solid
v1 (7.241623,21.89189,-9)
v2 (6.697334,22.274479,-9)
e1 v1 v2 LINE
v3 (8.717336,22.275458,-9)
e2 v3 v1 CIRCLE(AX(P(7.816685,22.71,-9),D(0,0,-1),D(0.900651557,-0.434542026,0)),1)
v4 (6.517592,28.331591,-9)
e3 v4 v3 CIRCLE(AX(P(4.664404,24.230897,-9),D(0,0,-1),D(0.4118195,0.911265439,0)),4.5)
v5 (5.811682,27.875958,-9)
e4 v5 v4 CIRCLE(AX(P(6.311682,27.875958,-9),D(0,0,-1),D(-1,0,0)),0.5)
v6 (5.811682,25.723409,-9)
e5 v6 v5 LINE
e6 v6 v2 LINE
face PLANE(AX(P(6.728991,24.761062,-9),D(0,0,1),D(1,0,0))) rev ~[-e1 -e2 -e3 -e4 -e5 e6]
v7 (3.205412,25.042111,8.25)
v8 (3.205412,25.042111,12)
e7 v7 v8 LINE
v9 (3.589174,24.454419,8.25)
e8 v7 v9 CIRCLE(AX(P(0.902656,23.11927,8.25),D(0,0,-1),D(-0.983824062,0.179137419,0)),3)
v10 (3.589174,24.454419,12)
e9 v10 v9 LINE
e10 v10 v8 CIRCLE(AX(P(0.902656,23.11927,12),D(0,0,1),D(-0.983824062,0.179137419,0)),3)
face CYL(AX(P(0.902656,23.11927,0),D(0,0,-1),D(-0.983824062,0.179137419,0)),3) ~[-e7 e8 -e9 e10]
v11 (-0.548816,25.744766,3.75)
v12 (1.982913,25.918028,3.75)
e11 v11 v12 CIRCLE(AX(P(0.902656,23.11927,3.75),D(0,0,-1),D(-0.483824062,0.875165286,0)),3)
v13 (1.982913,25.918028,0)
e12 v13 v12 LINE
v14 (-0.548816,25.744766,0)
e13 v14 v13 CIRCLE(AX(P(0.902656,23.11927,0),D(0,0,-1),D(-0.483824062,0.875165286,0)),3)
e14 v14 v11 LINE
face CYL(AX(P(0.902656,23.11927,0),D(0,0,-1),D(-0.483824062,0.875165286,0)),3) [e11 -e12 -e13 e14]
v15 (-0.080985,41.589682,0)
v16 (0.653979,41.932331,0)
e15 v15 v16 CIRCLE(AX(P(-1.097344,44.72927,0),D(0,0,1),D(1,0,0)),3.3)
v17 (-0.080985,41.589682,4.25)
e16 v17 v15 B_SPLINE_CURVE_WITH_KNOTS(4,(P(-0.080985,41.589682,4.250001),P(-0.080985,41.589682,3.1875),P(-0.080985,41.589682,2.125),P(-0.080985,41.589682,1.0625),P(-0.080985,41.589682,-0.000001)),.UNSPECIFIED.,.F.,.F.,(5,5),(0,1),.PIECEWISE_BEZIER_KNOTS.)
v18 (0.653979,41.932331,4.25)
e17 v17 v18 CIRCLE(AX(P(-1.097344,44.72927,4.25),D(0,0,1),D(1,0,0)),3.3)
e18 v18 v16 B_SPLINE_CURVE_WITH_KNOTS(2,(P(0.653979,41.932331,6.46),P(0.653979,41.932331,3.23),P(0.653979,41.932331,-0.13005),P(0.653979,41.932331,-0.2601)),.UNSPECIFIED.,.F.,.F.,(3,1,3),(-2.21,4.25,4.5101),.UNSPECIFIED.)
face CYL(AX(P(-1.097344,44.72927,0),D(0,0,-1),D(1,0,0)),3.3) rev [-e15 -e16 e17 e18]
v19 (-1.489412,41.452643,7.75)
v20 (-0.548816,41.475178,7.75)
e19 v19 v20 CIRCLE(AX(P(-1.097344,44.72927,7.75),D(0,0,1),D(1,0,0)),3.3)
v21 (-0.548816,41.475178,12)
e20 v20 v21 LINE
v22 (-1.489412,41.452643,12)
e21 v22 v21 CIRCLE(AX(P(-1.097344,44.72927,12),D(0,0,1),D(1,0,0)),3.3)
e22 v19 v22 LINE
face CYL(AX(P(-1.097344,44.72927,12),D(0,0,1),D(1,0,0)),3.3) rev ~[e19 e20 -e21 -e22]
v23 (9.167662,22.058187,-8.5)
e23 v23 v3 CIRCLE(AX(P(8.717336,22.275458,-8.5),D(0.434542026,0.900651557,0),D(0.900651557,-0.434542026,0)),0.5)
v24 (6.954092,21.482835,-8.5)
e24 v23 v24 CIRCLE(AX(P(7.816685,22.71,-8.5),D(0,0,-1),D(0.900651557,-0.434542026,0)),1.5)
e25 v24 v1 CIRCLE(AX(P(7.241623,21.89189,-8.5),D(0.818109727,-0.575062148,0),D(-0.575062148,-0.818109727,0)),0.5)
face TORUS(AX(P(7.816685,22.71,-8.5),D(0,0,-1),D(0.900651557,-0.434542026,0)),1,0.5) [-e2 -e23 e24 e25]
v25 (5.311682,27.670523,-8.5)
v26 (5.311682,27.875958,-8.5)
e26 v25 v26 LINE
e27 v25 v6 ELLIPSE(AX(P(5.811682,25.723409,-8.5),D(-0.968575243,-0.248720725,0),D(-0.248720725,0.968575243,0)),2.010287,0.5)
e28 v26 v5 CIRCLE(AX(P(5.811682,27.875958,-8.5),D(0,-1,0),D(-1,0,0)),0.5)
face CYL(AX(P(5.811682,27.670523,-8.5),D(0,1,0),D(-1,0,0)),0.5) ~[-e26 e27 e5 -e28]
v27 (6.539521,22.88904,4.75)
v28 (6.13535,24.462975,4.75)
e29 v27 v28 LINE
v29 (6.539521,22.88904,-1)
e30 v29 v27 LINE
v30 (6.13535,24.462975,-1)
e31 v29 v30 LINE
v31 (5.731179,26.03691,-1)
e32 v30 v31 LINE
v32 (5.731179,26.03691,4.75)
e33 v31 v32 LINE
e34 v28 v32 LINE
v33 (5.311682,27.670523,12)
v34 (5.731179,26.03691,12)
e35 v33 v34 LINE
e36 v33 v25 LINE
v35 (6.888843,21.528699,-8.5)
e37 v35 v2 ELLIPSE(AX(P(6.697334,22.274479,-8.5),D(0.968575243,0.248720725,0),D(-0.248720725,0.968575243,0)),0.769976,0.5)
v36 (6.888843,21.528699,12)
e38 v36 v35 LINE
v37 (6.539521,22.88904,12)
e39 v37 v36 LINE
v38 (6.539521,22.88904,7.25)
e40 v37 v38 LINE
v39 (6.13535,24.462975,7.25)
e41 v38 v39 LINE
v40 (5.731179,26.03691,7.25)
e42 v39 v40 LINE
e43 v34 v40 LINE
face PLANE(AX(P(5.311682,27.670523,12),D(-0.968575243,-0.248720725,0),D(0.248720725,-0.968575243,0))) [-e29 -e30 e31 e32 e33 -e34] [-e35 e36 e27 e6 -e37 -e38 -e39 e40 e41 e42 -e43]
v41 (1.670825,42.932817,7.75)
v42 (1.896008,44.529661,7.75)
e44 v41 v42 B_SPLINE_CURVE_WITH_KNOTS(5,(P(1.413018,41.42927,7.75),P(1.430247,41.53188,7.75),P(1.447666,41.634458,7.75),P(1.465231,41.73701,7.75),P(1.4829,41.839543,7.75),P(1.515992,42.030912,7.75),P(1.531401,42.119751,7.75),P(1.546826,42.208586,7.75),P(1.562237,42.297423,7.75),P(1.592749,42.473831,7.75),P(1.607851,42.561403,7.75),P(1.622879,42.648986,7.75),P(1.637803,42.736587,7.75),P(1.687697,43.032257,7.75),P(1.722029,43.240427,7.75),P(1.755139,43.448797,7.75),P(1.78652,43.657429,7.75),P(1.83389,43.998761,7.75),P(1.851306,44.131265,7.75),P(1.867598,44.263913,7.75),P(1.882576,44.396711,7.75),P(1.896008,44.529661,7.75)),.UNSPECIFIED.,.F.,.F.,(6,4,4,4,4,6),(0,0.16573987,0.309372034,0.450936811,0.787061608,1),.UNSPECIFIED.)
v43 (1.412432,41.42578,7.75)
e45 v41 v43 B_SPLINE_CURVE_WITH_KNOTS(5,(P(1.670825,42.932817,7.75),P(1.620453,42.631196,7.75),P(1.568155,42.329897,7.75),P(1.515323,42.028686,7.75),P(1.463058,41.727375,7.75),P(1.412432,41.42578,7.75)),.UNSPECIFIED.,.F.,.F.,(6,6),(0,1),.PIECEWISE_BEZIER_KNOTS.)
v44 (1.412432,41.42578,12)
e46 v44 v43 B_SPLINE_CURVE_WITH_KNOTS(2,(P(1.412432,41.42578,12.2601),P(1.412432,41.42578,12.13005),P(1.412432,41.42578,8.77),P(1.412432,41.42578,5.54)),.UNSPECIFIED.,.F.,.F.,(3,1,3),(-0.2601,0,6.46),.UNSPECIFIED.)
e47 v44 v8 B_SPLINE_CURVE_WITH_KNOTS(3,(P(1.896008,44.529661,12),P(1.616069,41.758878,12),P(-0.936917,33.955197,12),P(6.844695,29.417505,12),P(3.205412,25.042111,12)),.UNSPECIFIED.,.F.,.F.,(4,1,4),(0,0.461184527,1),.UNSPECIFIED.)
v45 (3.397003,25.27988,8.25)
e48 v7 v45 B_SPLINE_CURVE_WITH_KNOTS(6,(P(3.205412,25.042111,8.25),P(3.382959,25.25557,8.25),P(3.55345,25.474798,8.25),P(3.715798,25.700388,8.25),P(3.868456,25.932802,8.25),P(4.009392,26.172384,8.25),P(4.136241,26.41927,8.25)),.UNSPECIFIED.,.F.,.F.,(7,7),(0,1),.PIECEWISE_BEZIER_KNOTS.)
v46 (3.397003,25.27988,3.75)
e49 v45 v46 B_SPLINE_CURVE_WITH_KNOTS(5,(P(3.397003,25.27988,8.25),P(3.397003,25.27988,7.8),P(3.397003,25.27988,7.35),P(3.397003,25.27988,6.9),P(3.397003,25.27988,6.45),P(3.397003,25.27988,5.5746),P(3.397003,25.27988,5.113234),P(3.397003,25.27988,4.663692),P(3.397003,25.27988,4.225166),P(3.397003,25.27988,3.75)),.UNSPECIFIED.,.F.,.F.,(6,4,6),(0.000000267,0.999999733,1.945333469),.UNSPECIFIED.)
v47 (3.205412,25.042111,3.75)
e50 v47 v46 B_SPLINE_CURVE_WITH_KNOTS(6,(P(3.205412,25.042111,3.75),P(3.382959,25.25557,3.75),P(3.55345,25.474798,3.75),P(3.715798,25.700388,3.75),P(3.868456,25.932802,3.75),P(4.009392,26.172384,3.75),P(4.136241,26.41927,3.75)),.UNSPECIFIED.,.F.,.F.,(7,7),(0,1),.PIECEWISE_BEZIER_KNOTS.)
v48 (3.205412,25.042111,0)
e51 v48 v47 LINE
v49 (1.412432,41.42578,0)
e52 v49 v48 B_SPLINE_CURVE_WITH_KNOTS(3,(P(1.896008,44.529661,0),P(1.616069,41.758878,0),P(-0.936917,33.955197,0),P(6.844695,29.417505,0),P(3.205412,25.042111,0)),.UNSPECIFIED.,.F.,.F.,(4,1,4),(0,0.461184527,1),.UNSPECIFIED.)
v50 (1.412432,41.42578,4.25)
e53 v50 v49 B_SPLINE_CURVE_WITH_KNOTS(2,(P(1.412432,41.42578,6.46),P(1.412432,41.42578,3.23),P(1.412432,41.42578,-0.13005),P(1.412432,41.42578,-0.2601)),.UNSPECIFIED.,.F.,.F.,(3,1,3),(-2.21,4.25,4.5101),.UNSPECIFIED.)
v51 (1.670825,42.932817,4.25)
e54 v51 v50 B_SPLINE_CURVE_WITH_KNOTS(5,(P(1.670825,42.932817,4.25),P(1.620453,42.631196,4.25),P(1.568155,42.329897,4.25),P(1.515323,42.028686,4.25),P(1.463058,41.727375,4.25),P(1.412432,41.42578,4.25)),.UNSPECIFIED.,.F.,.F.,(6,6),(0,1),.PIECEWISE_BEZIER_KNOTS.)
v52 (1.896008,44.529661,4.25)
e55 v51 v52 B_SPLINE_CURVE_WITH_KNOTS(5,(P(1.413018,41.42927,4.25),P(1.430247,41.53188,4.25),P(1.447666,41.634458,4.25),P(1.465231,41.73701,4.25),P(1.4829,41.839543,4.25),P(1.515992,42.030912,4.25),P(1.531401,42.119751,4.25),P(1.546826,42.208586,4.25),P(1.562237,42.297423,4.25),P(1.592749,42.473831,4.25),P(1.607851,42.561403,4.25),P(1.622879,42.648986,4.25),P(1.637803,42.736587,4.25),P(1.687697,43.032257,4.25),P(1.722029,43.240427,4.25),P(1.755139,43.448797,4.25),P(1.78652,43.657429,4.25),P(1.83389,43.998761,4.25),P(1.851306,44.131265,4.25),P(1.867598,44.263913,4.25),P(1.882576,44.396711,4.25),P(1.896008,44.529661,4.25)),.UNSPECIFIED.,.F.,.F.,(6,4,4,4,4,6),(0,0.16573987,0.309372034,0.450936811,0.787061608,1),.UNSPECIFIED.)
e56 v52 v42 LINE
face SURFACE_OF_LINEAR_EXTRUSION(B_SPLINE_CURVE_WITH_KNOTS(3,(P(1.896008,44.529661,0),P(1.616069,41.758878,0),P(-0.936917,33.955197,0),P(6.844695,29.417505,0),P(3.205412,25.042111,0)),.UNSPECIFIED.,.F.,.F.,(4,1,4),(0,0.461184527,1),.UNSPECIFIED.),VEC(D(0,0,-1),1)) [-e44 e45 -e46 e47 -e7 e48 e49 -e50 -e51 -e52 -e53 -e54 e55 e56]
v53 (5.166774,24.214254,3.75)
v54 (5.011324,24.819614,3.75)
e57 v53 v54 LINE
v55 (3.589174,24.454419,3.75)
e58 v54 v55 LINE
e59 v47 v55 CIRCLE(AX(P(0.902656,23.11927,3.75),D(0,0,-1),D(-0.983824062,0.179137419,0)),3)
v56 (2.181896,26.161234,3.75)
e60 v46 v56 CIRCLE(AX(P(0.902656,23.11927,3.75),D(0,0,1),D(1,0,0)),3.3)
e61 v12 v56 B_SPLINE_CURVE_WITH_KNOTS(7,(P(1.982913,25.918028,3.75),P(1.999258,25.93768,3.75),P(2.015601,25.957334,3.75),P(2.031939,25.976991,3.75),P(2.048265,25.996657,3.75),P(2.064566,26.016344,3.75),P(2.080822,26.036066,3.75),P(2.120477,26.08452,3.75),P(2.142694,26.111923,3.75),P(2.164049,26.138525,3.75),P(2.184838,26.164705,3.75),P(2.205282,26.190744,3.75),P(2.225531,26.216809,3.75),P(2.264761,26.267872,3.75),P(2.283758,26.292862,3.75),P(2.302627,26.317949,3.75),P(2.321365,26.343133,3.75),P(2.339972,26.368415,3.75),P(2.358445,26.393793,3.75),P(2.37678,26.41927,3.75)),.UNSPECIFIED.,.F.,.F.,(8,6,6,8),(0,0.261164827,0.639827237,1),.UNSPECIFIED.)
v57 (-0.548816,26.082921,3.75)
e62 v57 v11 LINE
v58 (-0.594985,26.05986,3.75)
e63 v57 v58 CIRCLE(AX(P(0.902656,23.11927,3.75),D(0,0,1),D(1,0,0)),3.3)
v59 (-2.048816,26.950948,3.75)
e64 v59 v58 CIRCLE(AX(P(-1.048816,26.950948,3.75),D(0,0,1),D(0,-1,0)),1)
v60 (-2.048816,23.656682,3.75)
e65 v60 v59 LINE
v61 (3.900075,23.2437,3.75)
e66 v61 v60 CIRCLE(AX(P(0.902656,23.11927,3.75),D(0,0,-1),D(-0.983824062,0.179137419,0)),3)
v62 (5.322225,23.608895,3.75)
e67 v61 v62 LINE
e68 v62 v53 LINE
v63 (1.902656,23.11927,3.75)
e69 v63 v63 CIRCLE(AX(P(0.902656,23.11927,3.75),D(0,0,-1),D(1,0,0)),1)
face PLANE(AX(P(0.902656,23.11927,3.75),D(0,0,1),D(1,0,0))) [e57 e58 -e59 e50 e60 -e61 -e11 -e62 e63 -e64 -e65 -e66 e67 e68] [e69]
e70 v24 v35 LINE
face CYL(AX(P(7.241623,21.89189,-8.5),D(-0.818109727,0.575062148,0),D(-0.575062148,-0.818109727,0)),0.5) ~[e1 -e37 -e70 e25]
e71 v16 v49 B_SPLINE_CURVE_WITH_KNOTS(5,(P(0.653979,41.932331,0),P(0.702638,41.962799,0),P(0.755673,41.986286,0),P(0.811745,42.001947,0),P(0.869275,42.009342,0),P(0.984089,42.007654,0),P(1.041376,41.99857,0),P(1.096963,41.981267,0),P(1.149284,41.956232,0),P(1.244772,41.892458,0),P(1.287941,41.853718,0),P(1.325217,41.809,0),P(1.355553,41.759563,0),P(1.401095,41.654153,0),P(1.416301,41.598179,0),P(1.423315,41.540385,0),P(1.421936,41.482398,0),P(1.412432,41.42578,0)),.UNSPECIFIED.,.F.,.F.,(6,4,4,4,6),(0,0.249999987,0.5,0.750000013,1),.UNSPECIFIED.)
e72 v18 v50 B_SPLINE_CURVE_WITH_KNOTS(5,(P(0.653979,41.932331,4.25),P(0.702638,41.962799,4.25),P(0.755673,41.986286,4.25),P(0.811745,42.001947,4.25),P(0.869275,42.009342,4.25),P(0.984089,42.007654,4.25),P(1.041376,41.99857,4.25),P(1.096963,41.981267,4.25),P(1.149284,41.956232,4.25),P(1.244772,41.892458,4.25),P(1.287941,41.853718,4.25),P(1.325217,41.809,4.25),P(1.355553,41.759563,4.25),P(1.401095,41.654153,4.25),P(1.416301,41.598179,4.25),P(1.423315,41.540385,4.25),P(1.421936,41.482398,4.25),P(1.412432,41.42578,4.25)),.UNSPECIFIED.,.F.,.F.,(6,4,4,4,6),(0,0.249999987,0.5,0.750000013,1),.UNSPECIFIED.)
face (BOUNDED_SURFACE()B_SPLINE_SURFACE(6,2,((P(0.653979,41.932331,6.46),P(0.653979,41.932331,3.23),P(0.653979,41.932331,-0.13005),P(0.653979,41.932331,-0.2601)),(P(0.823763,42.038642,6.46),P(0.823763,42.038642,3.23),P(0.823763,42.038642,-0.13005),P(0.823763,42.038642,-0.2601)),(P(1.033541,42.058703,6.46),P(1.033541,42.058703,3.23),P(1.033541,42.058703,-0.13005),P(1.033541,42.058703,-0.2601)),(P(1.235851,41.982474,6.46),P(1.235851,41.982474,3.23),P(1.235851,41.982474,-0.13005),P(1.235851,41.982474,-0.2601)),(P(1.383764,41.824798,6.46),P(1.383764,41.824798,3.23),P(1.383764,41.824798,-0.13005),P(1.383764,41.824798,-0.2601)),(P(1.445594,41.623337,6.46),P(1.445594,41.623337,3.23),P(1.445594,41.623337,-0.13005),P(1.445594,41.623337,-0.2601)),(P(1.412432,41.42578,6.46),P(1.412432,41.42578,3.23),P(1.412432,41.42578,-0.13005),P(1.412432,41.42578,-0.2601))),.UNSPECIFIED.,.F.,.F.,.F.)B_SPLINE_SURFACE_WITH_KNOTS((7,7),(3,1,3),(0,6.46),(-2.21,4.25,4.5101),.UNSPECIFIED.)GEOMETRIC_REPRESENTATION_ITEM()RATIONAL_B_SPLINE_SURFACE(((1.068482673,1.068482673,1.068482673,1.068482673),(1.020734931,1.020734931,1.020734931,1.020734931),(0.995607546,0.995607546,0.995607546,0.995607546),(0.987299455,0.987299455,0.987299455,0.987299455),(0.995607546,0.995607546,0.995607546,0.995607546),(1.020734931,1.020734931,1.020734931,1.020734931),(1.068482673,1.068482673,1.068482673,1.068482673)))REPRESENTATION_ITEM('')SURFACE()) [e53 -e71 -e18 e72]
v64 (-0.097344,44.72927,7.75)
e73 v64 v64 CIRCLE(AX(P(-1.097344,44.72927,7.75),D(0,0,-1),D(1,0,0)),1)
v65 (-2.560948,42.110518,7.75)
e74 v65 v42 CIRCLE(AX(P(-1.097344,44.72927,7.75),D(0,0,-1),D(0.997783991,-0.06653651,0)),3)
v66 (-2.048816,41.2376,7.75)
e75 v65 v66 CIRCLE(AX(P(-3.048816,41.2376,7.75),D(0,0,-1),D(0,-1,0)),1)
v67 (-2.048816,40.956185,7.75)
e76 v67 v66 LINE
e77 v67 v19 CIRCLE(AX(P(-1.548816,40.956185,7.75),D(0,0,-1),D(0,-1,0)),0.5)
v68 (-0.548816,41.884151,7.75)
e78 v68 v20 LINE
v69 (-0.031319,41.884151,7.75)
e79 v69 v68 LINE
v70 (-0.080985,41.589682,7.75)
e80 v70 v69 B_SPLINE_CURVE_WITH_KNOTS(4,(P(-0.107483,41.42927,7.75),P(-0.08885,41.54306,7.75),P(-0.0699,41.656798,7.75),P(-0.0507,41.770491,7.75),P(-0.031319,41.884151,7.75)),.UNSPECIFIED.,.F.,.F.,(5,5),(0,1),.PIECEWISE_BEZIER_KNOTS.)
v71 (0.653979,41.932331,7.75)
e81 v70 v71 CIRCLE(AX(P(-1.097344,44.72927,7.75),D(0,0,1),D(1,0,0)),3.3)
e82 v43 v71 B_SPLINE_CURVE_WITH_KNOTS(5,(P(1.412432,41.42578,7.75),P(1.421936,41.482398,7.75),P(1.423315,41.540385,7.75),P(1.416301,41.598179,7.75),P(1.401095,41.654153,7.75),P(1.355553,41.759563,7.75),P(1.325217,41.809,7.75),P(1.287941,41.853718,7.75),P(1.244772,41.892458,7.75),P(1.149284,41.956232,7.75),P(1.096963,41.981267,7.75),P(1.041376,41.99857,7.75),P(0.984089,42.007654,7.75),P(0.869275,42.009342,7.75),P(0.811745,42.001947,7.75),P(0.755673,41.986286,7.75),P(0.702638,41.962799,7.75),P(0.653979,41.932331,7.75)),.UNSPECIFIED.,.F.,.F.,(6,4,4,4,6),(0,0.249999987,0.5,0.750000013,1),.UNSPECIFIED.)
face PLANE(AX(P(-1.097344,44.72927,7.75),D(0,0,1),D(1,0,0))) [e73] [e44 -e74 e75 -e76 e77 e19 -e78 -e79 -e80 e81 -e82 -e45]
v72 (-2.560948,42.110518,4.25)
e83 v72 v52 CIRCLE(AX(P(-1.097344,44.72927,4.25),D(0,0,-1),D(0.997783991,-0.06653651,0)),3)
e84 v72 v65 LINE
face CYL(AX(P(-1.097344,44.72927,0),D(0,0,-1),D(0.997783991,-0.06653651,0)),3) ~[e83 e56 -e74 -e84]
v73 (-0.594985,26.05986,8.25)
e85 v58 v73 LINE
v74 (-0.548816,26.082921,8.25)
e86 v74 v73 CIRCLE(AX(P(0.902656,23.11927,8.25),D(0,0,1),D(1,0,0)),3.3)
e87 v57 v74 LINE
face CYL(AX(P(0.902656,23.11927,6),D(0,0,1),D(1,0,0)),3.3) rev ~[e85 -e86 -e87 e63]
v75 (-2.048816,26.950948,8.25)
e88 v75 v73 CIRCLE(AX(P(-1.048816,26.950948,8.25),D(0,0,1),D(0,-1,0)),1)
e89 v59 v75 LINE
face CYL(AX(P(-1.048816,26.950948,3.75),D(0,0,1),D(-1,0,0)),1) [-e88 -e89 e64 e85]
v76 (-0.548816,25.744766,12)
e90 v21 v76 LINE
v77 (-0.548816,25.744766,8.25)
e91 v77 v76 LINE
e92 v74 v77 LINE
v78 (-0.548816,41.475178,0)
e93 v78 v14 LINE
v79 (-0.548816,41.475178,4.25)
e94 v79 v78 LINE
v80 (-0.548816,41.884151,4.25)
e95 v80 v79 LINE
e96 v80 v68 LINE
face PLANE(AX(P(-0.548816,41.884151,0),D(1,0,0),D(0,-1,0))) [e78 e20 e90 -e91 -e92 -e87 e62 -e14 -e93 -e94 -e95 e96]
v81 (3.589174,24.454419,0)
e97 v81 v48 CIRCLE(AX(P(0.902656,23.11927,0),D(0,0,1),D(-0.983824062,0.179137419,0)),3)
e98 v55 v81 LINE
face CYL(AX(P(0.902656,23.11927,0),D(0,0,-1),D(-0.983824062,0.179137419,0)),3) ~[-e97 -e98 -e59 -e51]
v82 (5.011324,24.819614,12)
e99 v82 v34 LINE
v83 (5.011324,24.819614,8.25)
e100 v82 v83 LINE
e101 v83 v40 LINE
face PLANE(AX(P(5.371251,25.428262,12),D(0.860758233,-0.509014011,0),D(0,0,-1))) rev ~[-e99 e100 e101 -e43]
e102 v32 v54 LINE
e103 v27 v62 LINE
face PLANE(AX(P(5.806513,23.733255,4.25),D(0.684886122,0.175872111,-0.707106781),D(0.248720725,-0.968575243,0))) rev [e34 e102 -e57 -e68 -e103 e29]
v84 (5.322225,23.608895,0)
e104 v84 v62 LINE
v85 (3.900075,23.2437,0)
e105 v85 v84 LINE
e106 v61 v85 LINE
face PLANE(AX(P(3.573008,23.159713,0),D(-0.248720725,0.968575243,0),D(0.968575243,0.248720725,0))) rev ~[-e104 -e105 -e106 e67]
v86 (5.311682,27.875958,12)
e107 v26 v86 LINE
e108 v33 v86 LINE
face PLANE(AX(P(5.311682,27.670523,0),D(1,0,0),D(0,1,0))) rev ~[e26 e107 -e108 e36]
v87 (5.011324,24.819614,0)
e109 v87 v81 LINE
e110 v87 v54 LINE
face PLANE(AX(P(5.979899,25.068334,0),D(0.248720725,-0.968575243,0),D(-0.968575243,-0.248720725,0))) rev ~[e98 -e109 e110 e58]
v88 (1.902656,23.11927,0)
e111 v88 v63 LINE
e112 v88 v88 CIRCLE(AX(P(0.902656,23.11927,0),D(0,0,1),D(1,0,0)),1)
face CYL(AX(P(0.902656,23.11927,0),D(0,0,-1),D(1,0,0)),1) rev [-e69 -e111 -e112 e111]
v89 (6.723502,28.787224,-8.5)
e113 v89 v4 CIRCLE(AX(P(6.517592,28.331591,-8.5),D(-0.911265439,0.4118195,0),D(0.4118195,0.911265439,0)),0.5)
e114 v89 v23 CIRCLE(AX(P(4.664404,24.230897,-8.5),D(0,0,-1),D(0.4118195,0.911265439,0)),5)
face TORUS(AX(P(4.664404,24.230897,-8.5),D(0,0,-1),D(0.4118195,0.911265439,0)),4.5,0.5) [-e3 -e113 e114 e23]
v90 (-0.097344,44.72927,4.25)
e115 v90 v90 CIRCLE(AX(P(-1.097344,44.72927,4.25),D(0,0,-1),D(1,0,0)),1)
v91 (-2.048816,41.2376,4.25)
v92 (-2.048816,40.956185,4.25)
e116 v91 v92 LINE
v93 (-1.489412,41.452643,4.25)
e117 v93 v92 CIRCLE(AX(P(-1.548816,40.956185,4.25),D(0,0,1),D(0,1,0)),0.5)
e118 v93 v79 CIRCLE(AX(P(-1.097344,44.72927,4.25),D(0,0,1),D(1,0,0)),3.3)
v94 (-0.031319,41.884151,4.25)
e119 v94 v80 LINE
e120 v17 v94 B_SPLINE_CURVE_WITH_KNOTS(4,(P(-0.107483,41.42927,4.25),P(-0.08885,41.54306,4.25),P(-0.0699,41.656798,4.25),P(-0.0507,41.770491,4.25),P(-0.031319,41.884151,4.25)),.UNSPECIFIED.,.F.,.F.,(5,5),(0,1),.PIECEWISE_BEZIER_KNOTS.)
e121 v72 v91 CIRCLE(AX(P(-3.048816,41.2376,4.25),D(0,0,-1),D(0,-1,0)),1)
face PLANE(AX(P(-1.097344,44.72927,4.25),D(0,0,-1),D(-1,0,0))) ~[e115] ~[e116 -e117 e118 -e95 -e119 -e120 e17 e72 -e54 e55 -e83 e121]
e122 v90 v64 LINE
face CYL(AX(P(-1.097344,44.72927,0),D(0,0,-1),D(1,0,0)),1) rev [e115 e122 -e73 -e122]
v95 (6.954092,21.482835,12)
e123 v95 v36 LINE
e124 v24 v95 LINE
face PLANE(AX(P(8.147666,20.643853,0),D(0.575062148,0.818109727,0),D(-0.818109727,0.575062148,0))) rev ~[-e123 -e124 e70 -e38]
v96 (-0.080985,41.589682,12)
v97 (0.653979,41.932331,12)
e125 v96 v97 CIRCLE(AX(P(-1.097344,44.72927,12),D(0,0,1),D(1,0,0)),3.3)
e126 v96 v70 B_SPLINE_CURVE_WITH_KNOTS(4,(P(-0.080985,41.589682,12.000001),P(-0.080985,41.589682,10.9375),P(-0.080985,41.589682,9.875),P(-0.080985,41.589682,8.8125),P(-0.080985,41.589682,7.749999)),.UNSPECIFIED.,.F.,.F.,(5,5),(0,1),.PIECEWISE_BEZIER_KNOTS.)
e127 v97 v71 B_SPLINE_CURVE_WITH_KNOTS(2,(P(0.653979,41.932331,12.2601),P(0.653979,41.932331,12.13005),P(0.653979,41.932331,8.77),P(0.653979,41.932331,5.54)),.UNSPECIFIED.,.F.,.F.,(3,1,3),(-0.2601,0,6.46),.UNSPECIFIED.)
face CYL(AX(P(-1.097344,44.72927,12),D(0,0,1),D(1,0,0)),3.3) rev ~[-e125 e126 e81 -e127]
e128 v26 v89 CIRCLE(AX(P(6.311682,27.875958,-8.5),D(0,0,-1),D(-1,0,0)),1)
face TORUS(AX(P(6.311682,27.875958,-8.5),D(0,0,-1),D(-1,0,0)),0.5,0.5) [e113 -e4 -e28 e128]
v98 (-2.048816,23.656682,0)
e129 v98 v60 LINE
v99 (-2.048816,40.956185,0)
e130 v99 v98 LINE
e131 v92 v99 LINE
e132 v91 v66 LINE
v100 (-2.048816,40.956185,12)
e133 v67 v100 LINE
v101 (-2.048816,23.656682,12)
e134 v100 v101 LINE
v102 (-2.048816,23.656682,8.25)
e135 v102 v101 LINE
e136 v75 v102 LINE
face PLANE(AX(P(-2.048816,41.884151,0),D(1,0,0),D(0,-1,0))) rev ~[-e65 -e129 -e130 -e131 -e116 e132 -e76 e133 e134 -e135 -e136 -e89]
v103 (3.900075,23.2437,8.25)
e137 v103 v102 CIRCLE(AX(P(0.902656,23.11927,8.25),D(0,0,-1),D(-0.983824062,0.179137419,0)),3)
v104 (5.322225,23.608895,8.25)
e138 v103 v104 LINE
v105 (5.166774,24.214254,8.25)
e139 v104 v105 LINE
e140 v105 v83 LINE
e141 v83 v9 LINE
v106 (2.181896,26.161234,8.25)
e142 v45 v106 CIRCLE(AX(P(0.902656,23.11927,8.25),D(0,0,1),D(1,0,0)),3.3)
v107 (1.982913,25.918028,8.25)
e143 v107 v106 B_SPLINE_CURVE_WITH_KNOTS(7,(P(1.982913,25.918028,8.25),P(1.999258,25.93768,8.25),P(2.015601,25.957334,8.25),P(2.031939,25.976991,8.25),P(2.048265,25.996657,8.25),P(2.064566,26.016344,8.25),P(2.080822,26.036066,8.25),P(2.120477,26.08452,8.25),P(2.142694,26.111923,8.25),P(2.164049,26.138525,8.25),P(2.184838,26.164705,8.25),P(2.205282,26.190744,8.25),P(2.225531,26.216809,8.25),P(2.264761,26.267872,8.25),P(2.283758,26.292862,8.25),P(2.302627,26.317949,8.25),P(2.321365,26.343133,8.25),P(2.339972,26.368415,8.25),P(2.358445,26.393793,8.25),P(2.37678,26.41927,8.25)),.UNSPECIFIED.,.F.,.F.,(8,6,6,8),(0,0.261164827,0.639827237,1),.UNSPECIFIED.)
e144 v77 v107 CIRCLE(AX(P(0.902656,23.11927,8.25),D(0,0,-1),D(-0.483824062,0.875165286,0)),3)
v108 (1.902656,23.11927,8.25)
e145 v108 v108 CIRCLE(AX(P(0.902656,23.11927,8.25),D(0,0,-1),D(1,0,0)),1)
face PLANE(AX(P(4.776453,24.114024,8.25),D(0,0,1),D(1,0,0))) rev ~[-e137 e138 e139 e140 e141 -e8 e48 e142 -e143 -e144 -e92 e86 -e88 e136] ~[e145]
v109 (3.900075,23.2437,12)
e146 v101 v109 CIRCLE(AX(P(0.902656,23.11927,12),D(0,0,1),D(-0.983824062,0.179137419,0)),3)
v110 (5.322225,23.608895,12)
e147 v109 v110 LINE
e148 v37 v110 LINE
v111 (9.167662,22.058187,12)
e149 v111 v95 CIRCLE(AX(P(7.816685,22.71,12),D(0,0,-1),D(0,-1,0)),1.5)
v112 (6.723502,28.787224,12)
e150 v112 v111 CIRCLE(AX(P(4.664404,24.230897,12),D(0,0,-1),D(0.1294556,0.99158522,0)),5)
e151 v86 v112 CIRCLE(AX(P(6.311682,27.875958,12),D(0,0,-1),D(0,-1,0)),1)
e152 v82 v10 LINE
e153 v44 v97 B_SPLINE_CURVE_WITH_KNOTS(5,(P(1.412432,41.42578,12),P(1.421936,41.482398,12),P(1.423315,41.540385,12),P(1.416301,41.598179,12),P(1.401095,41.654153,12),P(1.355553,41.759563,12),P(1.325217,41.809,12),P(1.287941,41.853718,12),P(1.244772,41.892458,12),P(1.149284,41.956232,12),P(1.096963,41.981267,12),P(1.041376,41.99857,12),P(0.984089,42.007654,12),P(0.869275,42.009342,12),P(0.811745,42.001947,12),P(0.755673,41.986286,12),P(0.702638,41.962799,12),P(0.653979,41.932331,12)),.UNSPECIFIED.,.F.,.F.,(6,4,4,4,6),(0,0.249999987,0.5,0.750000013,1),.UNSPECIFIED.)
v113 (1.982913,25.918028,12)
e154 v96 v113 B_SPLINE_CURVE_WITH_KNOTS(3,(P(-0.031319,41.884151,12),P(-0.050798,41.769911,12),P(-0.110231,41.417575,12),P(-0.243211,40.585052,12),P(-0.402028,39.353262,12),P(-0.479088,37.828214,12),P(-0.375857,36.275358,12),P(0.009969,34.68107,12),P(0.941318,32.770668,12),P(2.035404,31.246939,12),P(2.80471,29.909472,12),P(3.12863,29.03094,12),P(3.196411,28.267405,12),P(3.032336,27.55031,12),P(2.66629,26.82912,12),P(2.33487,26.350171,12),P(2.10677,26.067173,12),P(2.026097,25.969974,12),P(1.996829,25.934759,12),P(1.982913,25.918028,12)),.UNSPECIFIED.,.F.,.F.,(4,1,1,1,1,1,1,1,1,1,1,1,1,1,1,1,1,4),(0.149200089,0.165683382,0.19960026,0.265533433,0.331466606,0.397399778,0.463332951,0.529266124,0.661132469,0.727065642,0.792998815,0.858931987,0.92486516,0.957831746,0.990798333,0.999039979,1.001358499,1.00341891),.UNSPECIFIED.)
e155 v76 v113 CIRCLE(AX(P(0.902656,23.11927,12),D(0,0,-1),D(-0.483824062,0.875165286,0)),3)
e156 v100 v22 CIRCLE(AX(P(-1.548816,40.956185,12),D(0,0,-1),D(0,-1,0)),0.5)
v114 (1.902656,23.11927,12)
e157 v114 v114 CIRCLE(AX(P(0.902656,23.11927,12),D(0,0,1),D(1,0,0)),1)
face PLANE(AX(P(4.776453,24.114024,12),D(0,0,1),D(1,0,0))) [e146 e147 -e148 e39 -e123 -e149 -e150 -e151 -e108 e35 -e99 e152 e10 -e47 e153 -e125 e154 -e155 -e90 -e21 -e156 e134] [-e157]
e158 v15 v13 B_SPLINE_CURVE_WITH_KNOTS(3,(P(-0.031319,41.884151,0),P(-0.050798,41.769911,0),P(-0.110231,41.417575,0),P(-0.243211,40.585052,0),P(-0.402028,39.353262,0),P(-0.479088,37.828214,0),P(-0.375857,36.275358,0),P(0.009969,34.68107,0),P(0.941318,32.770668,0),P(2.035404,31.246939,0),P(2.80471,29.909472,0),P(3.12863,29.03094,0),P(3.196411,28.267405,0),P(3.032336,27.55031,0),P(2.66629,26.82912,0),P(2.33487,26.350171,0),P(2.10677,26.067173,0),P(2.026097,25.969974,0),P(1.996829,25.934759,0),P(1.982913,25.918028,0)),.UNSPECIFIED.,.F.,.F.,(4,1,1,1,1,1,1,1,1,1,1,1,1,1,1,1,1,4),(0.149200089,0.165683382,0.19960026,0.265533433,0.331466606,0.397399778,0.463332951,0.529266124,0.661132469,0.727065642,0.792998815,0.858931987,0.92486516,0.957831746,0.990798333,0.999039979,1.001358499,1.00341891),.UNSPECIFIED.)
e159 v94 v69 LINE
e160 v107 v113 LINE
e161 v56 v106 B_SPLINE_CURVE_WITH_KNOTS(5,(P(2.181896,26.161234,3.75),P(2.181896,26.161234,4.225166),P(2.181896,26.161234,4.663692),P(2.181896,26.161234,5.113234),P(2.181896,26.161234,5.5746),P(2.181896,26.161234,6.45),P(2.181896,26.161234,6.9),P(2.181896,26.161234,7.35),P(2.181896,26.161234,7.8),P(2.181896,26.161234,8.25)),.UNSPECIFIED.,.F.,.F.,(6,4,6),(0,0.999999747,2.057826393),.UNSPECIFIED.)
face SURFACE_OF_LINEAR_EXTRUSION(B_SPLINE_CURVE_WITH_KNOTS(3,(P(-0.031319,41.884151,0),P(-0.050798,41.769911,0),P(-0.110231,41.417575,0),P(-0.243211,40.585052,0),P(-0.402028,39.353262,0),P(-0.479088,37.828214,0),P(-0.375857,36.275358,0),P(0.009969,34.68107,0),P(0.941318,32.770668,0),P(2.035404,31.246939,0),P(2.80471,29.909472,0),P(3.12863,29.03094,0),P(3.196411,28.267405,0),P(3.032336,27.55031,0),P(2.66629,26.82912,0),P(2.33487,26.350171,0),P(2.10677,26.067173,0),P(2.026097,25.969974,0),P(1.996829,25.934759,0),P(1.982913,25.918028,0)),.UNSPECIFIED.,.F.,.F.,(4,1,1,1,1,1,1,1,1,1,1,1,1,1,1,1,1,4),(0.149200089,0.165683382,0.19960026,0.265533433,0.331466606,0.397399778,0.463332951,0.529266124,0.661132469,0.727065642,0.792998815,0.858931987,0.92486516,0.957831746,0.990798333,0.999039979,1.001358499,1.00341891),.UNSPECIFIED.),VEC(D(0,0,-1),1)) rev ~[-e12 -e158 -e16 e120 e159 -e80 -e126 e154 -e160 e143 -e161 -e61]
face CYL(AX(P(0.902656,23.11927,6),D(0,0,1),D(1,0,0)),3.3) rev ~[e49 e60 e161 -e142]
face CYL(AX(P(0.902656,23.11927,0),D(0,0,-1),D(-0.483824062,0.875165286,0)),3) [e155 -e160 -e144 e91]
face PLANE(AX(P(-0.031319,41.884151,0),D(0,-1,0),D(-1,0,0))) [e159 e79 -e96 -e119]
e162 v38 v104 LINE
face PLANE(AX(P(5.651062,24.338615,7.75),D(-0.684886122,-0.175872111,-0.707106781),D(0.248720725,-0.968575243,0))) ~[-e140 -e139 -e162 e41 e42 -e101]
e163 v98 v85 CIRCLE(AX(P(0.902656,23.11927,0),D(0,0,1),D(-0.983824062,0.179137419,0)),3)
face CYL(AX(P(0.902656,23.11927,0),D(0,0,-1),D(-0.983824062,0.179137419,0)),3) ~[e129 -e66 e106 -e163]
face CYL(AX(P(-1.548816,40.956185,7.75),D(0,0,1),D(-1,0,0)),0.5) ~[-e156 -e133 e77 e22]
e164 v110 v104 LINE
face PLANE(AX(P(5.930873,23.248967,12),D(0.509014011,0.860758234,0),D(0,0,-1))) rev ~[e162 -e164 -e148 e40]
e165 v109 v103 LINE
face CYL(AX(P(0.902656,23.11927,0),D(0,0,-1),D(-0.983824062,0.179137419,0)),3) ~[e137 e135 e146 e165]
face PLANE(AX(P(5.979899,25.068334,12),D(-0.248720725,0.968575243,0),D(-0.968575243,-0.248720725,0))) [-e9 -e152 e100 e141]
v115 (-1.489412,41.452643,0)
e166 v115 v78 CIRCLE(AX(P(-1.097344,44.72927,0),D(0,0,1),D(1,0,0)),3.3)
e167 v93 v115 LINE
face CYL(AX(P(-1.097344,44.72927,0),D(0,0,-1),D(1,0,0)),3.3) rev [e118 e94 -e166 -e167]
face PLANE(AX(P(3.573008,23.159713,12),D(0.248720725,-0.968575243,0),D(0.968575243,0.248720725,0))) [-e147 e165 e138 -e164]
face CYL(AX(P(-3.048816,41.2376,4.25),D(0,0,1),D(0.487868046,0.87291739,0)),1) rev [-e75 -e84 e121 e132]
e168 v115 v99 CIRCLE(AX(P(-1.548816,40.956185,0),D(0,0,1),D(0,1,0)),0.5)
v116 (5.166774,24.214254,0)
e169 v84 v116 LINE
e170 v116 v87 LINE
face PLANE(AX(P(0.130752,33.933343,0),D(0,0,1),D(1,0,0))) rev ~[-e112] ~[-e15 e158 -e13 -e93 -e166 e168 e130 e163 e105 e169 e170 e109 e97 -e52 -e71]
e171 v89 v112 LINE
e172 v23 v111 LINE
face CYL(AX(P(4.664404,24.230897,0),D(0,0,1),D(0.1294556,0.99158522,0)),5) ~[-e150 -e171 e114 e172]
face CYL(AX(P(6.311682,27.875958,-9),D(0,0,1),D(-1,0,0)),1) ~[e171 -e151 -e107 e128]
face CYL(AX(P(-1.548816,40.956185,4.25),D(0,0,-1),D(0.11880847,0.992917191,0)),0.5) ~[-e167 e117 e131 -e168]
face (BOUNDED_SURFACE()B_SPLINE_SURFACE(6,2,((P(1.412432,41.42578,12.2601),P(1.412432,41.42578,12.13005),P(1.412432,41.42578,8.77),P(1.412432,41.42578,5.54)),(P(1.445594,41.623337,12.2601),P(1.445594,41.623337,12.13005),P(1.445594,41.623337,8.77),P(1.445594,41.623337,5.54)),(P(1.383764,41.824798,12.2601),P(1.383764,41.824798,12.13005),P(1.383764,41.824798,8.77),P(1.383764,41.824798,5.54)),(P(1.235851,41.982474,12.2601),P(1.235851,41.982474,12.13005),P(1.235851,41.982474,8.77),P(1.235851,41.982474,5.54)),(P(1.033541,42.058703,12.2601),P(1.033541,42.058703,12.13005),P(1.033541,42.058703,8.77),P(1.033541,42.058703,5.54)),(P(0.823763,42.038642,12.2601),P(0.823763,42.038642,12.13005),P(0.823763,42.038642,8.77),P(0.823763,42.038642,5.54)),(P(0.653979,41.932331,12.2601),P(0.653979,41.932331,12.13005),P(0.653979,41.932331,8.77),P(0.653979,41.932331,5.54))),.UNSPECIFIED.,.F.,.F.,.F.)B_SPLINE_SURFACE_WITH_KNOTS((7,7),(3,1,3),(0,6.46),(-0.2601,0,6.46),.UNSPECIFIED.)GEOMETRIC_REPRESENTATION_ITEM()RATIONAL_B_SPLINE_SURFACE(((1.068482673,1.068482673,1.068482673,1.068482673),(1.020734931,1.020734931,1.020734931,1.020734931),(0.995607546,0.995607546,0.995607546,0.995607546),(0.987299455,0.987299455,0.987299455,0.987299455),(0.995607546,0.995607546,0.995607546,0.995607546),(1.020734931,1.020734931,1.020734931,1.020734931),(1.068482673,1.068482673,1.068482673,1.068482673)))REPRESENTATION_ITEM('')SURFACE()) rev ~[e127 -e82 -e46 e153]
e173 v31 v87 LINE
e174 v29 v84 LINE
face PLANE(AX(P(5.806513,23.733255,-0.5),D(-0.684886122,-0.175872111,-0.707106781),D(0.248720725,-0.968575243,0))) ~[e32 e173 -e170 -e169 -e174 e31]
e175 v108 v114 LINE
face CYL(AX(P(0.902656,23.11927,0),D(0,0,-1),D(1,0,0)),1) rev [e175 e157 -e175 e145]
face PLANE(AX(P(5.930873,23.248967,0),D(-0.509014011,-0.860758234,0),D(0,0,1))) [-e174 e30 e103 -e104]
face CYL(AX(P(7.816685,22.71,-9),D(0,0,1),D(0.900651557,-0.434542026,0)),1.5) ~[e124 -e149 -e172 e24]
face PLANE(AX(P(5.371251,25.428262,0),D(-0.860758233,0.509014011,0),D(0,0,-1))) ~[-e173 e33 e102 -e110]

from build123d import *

# Parameters (mm, degrees)
SKETCH1_R                = 1
BOSS_EXTRUDE1_DEPTH      = 12
SKETCH2_R                = 3.3
CUT_EXTRUDE1_DEPTH       = 4.25
SKETCH3_R                = 3.3
CUT_EXTRUDE2_DEPTH       = 2.25
CUT_EXTRUDE2_DEPTH_BACK  = 2.25
BOSS_EXTRUDE4_DEPTH      = 12
BOSS_EXTRUDE4_DEPTH_BACK = 9
BOSS_EXTRUDE5_DEPTH      = 21
BOSS_EXTRUDE6_DEPTH      = 3.75
BOSS_EXTRUDE7_DEPTH      = 3.75
FILLET1_R                = 0.5
FILLET2_R                = 1
FILLET10_R               = 1.5
FILLET11_R               = 1
CHAMFER5_SIZE            = 1
FILLET12_R               = 1
FILLET13_R               = 0.5


with BuildPart() as part:
    # Sketch1 → Boss-Extrude1 (new body)
    with BuildSketch(Plane.XY):
        with BuildLine():
            Line((-2.048815827, 41.884151299), (-2.048815827, 23.656682303))
            ThreePointArc((-2.048815827, 23.656682303), (1.66754925, 20.218418642), (3.205412143, 25.042110601))
            add(Edge.make_bspline(
                [(1.896008332, 44.529660516), (1.616069448, 41.758878479), (-0.936917255, 33.955197005), (6.844694938, 29.417505011), (3.205412143, 25.042110601)],
                knots=[0, 0, 0, 0, 0.461184527, 1, 1, 1, 1], degree=3))
            ThreePointArc((1.896008332, 44.529660516), (-2.768270934, 47.220856283), (-2.048815827, 41.884151299))
        make_face()
        with Locations((-1.097343641, 44.729270045)):
            Circle(SKETCH1_R, mode=Mode.SUBTRACT)
        with Locations((0.902656359, 23.119270045)):
            Circle(SKETCH1_R, mode=Mode.SUBTRACT)
        with BuildLine():
            Line((-0.031319306, 41.884151299), (-0.548815827, 41.884151299))
            Line((-0.548815827, 41.884151299), (-0.548815827, 25.744765902))
            ThreePointArc((-0.548815827, 25.744765902), (0.697826573, 26.112269337), (1.982912704, 25.918028026))
            add(Edge.make_bspline(
                [(-0.031319306, 41.884151299), (-0.050798368, 41.769911378), (-0.110231132, 41.41757497), (-0.243210983, 40.585051968), (-0.402027872, 39.353261852), (-0.479087992, 37.828213551), (-0.375856847, 36.275358456), (0.009969142, 34.681069755), (0.941317901, 32.770668216), (2.035404053, 31.246938586), (2.80471042, 29.909471533), (3.128629571, 29.030940173), (3.19641087, 28.267404516), (3.032335606, 27.550309668), (2.666289508, 26.829120101), (2.334869511, 26.350170873), (2.106769915, 26.067173099), (2.026097439, 25.969974031), (1.996829195, 25.934759382), (1.982912704, 25.918028026)],
                knots=[0.149200089, 0.149200089, 0.149200089, 0.149200089, 0.165683382, 0.19960026, 0.265533433, 0.331466606, 0.397399778, 0.463332951, 0.529266124, 0.661132469, 0.727065642, 0.792998815, 0.858931987, 0.92486516, 0.957831746, 0.990798333, 0.999039979, 1.001358499, 1.00341891, 1.00341891, 1.00341891, 1.00341891], degree=3))
        make_face(mode=Mode.SUBTRACT)
    extrude(amount=BOSS_EXTRUDE1_DEPTH)

    # Sketch2 → Cut-Extrude1 (cut)
    with BuildSketch(Plane.XY.offset(12)):
        with Locations((-1.097343641, 44.729270045)):
            Circle(SKETCH2_R)
    cut_extrude1 = extrude(amount=-CUT_EXTRUDE1_DEPTH, mode=Mode.SUBTRACT)

    # Mirror1: Cut-Extrude1 across plane
    add(cut_extrude1.mirror(Plane.XY.offset(6)), mode=Mode.SUBTRACT)

    # Sketch3 → Cut-Extrude2 (cut, two sides)
    with BuildSketch(Plane.XY.offset(6)) as cut_extrude2_sk:
        with Locations((0.902656359, 23.119270045)):
            Circle(SKETCH3_R)
    extrude(amount=CUT_EXTRUDE2_DEPTH, mode=Mode.SUBTRACT)
    extrude(cut_extrude2_sk.sketch, amount=-CUT_EXTRUDE2_DEPTH_BACK, mode=Mode.SUBTRACT)



with BuildPart() as body_2:
    # Sketch6 → Boss-Extrude4 (new, two sides)
    with BuildSketch(Plane.XY) as boss_extrude4_sk:
        with BuildLine():
            Line((8.147666431, 20.643852604), (6.888843248, 21.528699147))
            ThreePointArc((6.888843248, 21.528699147), (8.054417737, 25.101419264), (5.311682387, 27.670523333))
            Line((5.311682387, 27.670523333), (5.311682387, 29.188822824))
            ThreePointArc((5.311682387, 29.188822824), (9.409872676, 25.805866797), (8.147666431, 20.643852604))
        make_face()
    extrude(amount=BOSS_EXTRUDE4_DEPTH)
    extrude(boss_extrude4_sk.sketch, amount=-BOSS_EXTRUDE4_DEPTH_BACK)

    # Sketch7 → Boss-Extrude5 (add)
    with BuildSketch(Plane.XY.offset(12)):
        with BuildLine():
            Line((5.311682387, 27.670523333), (6.888843248, 21.528699147))
            ThreePointArc((6.888843248, 21.528699147), (8.054417737, 25.101419264), (5.311682387, 27.670523333))
        make_face()
    extrude(amount=-BOSS_EXTRUDE5_DEPTH)


with BuildPart() as part_1:
    add(part.part)

    add(body_2.part)  # Boss-Extrude6 merges body 2
    # Sketch8 → Boss-Extrude6 (add)
    with BuildSketch(Plane.XY.offset(12)):
        Polygon((6.135349697, 24.462974926), (5.979899244, 25.068334452), (3.262106691, 24.370431694), (3.573007598, 23.15971264), (6.29080015, 23.857615399), align=None)
    extrude(amount=-BOSS_EXTRUDE6_DEPTH)

    # Sketch10 → Boss-Extrude7 (add)
    with BuildSketch(Plane(origin=(0, 0, 0), x_dir=(-1, 0, 0), z_dir=(0, 0, -1))):
        Polygon((-3.262106691, 24.370431694), (-3.573007598, 23.15971264), (-6.29080015, 23.857615399), (-6.135349697, 24.462974926), (-5.979899244, 25.068334452), align=None)
    extrude(amount=-BOSS_EXTRUDE7_DEPTH)

    # Fillet1
    fillet1_edges = [part_1.edges().sort_by_distance(p)[0] for p in [
        (1.670824854, 42.932817101, 9.875),
        (-2.048815827, 41.569412346, 9.875),
        (1.670824854, 42.932817101, 2.125),
        (-2.048815827, 41.569412346, 2.125),
    ]]
    fillet(fillet1_edges, radius=FILLET1_R)

    # Fillet2
    fillet2_edges = [part_1.edges().sort_by_distance(p)[0] for p in [
        (-2.048815827, 41.884151299, 6),
    ]]
    fillet(fillet2_edges, radius=FILLET2_R)

    # Fillet10
    fillet10_edges = [part_1.edges().sort_by_distance(p)[0] for p in [
        (8.147666431, 20.643852604, 1.5),
    ]]
    fillet(fillet10_edges, radius=FILLET10_R)

    # Fillet11
    fillet11_edges = [part_1.edges().sort_by_distance(p)[0] for p in [
        (-2.048815827, 24.595349967, 6),
    ]]
    fillet(fillet11_edges, radius=FILLET11_R)

    # Chamfer5
    chamfer5_edges = [part_1.edges().sort_by_distance(p)[0] for p in [
        (6.29080015, 23.857615399, 10.125),
        (5.979899244, 25.068334452, 10.125),
        (6.135349697, 24.462974926, 8.25),
        (6.135349697, 24.462974926, 0),
        (5.979899244, 25.068334452, 1.875),
        (6.135349697, 24.462974926, 3.75),
        (6.29080015, 23.857615399, 1.875),
    ]]
    chamfer(chamfer5_edges, length=CHAMFER5_SIZE)

    # Fillet12
    fillet12_edges = [part_1.edges().sort_by_distance(p)[0] for p in [
        (5.311682387, 29.188822824, 1.5),
    ]]
    fillet(fillet12_edges, radius=FILLET12_R)

    # Fillet13
    fillet13_edges = [part_1.edges().sort_by_distance(p)[0] for p in [
        (6.921467432, 21.505767097, -9),
        (9.36399081, 25.937907991, -9),
        (8.194027009, 21.258237643, -9),
        (5.311682387, 27.773240907, -9),
        (5.769381502, 28.716142835, -9),
    ]]
    fillet(fillet13_edges, radius=FILLET13_R)


solid = part_1.part
